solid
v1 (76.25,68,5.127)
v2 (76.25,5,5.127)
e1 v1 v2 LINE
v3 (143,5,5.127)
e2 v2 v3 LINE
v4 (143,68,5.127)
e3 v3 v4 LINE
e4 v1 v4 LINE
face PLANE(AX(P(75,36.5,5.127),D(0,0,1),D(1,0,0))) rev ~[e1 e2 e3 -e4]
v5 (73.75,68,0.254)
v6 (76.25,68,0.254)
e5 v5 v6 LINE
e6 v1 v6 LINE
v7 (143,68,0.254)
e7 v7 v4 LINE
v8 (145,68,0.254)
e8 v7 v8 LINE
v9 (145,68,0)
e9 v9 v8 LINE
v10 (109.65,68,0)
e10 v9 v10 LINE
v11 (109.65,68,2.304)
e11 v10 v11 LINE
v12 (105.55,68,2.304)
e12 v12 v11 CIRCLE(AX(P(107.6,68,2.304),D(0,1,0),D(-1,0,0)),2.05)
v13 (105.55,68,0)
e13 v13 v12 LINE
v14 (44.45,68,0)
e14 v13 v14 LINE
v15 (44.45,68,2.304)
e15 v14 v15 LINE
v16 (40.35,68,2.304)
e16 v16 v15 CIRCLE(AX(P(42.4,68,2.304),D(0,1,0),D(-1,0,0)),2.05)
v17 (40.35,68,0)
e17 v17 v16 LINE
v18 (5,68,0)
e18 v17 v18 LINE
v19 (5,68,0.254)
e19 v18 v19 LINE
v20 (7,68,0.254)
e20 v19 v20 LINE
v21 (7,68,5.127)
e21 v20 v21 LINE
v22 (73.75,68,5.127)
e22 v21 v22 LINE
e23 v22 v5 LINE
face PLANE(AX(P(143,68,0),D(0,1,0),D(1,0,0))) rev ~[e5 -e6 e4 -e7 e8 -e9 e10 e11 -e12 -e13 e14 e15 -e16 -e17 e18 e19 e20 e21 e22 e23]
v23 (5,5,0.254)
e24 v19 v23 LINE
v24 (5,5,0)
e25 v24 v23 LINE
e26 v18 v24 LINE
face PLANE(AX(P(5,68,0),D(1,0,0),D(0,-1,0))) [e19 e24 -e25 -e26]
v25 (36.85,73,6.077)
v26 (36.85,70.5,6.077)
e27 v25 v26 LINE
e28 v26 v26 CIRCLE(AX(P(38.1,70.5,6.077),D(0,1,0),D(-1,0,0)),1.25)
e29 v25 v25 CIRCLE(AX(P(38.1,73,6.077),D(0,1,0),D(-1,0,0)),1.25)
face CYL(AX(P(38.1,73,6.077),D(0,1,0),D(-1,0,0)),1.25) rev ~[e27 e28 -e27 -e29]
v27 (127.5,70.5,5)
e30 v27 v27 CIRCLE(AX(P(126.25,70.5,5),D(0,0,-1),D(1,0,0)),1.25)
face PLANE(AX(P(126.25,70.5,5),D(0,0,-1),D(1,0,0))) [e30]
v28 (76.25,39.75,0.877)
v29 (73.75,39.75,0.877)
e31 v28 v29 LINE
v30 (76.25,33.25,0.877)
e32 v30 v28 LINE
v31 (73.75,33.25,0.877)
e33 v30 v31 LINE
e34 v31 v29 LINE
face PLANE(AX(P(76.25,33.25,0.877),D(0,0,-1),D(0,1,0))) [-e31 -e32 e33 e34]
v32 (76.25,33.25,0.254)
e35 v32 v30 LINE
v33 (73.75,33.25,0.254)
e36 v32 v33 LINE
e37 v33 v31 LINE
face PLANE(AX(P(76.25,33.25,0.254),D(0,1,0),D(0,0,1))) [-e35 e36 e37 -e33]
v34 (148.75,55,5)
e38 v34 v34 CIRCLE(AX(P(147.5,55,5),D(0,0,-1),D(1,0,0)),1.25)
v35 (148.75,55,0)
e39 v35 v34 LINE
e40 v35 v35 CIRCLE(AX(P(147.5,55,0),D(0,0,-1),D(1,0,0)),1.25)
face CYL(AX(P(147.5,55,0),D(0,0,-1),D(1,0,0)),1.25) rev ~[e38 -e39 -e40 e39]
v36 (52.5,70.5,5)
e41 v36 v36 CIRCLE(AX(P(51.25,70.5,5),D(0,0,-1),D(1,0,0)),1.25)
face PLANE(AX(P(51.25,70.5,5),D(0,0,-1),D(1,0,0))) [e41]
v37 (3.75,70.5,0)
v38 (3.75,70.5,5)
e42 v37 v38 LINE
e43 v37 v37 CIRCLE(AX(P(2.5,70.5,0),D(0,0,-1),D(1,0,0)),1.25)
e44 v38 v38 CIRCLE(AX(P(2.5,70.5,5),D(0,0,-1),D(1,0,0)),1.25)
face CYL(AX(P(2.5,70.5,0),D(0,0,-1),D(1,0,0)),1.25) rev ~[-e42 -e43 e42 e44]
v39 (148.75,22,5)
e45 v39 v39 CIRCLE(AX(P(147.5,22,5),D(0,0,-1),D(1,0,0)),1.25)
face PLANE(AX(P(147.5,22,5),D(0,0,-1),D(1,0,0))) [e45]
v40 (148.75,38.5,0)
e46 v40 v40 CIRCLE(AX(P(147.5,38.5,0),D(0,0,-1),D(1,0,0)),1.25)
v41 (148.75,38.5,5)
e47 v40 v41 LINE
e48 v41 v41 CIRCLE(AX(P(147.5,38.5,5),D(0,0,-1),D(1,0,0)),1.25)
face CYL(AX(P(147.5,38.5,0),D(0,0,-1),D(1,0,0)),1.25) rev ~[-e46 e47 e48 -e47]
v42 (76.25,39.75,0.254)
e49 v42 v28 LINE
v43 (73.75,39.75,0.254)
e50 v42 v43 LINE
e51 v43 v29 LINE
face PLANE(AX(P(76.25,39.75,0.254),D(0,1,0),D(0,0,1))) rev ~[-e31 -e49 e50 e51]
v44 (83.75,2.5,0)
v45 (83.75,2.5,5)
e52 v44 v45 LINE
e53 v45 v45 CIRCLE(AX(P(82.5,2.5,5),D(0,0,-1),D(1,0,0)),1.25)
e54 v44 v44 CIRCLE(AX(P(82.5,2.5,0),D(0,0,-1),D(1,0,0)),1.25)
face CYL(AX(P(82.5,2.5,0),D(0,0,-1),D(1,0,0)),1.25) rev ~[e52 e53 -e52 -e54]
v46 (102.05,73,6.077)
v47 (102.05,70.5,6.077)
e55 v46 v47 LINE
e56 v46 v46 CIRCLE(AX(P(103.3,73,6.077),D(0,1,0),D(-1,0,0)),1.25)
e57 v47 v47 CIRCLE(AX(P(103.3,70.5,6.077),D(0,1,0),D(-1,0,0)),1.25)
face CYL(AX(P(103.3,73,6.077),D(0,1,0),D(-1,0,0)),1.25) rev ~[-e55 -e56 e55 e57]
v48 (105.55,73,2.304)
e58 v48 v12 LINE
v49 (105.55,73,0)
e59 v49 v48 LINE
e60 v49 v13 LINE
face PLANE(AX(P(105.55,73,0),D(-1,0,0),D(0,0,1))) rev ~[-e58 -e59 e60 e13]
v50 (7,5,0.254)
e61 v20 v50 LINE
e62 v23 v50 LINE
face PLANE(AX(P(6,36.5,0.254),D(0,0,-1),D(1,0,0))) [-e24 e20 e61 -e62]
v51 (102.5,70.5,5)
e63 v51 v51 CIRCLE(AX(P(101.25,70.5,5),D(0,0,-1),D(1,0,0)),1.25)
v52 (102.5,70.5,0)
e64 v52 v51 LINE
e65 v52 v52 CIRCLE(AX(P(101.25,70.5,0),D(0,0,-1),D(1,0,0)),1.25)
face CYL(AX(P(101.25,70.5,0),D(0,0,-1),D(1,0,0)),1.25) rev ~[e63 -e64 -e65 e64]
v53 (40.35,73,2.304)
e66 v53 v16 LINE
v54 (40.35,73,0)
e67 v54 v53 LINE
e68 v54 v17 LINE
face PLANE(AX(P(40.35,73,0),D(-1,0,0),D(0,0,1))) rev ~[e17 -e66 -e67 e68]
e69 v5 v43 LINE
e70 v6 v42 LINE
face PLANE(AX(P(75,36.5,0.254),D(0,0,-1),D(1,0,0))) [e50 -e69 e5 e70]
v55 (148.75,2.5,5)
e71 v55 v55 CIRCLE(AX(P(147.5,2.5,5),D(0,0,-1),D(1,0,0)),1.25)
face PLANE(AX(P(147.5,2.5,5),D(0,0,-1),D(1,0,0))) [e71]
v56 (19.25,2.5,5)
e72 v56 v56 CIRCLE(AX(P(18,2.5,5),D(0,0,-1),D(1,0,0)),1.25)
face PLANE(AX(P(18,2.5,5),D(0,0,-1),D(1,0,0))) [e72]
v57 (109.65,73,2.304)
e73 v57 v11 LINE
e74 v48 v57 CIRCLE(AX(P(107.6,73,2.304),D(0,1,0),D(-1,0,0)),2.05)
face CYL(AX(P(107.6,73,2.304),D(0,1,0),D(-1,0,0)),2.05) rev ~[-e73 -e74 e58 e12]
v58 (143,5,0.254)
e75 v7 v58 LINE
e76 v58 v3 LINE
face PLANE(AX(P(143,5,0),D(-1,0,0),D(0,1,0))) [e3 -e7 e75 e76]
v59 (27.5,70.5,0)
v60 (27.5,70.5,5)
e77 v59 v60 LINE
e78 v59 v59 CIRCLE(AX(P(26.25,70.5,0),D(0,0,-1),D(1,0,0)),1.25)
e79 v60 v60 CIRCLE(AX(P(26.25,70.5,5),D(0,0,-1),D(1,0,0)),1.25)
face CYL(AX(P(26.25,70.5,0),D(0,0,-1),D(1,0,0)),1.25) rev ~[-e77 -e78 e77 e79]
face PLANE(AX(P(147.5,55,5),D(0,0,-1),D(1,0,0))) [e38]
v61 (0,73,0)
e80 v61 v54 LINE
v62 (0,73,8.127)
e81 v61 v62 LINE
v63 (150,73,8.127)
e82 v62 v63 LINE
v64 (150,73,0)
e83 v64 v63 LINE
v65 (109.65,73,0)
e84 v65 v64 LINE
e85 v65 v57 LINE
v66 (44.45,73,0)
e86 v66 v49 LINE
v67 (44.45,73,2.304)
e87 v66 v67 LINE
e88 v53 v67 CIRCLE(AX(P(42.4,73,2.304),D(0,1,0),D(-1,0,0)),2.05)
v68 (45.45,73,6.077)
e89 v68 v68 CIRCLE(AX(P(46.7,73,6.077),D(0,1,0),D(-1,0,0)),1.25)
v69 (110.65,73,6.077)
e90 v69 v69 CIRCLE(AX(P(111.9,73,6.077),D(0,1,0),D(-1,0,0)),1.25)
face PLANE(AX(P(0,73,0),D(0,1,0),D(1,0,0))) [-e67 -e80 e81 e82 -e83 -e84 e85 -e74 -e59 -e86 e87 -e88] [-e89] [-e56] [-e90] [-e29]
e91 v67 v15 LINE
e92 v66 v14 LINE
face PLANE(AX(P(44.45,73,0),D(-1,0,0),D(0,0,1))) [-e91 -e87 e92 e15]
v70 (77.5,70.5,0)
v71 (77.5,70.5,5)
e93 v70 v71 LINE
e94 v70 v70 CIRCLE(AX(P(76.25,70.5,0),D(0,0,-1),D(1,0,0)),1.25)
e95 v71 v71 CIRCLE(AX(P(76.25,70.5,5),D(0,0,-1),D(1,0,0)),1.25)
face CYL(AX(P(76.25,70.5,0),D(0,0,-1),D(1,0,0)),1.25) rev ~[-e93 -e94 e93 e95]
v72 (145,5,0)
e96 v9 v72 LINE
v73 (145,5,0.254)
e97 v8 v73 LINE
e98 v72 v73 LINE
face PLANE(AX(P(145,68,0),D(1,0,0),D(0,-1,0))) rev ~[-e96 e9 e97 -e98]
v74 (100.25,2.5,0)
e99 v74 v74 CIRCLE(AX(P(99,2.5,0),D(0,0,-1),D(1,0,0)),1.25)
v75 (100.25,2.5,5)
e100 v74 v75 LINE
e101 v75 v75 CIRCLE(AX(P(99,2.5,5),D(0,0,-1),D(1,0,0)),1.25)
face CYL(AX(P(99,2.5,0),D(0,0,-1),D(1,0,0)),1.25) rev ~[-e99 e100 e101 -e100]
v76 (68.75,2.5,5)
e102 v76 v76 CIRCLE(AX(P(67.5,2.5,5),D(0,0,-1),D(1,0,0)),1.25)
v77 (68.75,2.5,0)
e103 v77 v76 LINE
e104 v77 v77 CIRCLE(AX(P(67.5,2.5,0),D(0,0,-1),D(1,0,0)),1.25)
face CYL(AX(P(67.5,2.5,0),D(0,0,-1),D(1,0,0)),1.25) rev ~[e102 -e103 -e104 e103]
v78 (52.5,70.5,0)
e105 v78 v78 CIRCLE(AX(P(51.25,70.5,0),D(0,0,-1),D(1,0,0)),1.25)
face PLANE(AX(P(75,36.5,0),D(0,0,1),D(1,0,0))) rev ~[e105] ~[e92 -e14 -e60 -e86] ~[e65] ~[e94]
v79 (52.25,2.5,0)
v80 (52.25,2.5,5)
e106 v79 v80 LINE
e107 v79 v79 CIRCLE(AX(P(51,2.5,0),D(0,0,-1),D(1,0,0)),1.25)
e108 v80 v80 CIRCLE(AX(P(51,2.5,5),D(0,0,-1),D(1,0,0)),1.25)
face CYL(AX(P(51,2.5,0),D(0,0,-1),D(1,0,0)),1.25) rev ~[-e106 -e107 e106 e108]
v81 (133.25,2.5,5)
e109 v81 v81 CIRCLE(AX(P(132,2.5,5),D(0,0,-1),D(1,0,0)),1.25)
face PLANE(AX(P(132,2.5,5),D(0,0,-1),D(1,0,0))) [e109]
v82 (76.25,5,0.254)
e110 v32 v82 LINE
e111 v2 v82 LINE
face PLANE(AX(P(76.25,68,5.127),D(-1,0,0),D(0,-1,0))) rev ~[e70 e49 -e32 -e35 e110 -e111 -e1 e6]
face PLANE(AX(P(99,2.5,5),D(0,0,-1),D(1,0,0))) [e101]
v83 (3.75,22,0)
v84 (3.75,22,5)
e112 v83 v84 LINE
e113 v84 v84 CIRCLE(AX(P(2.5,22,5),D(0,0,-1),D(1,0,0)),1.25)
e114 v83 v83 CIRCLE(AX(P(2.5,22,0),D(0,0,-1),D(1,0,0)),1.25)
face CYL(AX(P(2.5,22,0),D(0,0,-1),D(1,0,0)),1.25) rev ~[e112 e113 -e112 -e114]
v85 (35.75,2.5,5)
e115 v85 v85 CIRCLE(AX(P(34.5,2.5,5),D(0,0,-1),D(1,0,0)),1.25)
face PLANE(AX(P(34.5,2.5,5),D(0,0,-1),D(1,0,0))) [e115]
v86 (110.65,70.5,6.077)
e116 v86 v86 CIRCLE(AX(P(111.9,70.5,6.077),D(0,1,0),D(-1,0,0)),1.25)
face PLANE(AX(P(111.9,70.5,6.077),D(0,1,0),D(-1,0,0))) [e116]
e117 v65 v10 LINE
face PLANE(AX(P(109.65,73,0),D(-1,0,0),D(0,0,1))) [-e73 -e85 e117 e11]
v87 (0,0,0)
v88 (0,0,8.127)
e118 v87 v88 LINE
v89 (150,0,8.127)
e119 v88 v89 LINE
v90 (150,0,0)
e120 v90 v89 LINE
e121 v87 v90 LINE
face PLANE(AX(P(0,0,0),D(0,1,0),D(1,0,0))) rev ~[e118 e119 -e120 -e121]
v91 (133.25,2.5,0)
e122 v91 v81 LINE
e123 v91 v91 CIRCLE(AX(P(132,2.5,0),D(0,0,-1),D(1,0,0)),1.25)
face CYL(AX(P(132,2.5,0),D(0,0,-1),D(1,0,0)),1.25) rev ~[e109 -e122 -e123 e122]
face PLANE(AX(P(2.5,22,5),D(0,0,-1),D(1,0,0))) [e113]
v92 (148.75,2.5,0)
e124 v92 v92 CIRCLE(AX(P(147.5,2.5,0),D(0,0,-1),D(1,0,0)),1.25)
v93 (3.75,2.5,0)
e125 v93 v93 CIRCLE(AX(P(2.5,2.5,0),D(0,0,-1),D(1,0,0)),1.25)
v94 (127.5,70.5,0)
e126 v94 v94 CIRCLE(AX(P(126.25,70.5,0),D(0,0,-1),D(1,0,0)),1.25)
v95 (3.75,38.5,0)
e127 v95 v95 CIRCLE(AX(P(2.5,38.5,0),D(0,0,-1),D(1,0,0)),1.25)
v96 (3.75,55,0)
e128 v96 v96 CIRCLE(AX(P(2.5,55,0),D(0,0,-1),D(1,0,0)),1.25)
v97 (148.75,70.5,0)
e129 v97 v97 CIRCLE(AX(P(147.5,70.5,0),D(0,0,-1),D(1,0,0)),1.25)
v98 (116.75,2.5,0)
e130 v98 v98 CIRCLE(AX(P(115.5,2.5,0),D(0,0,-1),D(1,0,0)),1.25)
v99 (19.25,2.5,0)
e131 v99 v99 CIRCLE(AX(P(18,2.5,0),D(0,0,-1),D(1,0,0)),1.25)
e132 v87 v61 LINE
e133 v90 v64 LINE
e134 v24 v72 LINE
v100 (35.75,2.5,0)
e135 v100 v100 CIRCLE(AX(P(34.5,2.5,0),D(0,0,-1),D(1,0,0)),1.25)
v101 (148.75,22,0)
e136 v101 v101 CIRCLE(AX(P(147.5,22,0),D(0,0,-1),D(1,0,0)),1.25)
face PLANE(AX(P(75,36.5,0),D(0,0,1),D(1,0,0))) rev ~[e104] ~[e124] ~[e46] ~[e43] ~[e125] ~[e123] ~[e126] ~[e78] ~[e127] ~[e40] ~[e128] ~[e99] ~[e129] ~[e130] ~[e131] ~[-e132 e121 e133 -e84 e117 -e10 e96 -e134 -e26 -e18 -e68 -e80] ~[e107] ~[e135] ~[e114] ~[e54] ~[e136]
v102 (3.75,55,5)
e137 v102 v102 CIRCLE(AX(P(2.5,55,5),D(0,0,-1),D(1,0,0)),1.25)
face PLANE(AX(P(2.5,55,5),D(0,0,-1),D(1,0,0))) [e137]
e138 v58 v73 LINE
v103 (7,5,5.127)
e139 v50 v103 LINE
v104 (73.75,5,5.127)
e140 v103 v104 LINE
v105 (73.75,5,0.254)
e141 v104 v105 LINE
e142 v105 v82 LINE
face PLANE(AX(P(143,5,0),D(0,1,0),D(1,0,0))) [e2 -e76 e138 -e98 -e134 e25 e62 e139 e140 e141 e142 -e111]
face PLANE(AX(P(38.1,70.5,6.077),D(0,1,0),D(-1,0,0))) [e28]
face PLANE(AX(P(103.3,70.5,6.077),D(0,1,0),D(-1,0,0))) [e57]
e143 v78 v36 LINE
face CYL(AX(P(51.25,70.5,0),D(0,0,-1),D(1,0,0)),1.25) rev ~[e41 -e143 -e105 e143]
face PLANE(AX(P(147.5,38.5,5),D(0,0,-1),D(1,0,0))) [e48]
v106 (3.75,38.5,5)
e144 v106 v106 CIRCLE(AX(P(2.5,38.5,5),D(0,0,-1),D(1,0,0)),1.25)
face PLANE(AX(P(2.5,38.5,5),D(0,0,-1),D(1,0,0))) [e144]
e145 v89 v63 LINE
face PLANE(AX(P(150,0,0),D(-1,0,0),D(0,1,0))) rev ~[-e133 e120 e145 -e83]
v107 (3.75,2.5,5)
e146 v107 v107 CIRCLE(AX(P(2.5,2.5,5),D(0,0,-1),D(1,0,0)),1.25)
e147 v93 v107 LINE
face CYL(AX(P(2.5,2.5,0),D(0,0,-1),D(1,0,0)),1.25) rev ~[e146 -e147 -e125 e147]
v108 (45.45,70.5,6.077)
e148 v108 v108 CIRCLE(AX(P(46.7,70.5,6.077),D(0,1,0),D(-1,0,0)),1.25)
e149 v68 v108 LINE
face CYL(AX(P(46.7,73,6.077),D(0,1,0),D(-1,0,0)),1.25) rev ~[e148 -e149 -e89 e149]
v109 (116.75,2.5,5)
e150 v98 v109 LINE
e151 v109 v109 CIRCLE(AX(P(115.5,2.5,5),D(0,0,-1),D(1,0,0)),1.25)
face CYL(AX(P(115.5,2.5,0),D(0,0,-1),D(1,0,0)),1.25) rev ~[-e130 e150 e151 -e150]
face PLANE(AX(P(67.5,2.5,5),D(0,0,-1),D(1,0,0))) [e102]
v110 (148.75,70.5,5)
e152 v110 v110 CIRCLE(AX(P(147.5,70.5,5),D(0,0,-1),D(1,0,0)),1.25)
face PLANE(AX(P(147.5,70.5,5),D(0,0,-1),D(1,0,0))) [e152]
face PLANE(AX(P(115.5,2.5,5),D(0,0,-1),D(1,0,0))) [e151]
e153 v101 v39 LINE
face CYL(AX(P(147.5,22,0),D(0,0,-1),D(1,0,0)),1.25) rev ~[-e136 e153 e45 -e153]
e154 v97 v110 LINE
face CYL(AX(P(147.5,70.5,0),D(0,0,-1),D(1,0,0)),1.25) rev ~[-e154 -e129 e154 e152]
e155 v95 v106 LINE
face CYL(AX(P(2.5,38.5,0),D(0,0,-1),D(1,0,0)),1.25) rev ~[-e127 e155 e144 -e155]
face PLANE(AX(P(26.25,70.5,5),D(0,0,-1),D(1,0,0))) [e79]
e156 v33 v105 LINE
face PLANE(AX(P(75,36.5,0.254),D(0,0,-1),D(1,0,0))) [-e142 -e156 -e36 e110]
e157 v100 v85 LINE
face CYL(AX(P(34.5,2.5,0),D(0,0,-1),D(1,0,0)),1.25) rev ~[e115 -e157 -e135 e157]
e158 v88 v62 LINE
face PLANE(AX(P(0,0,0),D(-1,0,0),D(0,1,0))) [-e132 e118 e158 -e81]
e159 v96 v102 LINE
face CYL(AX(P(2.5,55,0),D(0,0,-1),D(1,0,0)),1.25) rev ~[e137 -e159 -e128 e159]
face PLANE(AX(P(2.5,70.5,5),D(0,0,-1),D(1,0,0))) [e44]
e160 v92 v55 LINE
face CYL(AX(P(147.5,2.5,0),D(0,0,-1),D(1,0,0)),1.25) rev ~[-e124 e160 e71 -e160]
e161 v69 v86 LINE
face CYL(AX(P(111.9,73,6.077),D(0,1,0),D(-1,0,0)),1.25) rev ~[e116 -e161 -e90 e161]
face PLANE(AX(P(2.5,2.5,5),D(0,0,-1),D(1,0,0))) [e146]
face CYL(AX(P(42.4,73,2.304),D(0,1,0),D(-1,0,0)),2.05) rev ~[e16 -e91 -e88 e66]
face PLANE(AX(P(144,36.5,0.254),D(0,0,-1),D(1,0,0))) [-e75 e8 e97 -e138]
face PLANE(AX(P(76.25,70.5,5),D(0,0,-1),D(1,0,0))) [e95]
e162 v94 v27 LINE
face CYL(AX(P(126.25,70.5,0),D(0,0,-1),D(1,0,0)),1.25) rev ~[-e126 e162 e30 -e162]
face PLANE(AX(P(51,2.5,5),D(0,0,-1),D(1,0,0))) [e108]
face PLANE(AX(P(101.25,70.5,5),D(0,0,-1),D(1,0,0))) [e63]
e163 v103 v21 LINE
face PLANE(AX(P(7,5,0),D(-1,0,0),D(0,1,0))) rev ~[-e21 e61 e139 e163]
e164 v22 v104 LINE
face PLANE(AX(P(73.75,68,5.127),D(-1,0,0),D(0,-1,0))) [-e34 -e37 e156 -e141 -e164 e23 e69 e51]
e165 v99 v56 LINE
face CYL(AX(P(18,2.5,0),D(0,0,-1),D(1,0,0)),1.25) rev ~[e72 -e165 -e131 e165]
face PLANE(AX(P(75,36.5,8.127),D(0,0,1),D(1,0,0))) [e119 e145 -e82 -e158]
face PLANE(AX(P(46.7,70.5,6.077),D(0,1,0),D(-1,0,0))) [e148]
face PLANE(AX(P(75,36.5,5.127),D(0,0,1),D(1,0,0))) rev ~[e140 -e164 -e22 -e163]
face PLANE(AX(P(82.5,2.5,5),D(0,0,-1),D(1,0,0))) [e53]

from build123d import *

# Parameters (mm, degrees)
F0_W      = 150
F0_H      = 73
F1_DEPTH  = 8.127
F3_R      = 1.25
F4_DEPTH  = 5
F5_R      = 1.25
F6_DEPTH  = 5
F7_R      = 1.25
F8_DEPTH  = 5
F9_R      = 1.25
F10_DEPTH = 5
F11_R     = 1.25
F12_DEPTH = 5
F13_R     = 1.25
F14_DEPTH = 5
F15_R     = 1.25
F16_DEPTH = 5
F17_R     = 1.25
F18_DEPTH = 5
F19_R     = 1.25
F20_DEPTH = 5
F21_R     = 1.25
F22_DEPTH = 5
F23_R     = 1.25
F24_DEPTH = 5
F25_R     = 1.25
F26_DEPTH = 5
F27_R     = 1.25
F28_DEPTH = 5
F29_R     = 1.25
F30_DEPTH = 5
F31_R     = 1.25
F32_DEPTH = 5
F33_R     = 1.25
F34_DEPTH = 5
F35_R     = 1.25
F36_DEPTH = 5
F37_R     = 1.25
F38_DEPTH = 5
F39_R     = 1.25
F40_DEPTH = 5
F41_R     = 1.25
F42_DEPTH = 5
F43_R     = 1.25
F44_DEPTH = 5
F45_R     = 1.25
F46_DEPTH = 5
F47_R     = 1.25
F48_DEPTH = 5
F2_W      = 136
F2_H      = 63
F49_DEPTH = 5.127
F50_W     = 2.5
F50_H     = 63
F51_DEPTH = 4.873
F52_W     = 6.5
F52_H     = 0.623
F53_DEPTH = 2.5
F54_W     = 2
F54_H     = 63
F55_DEPTH = 0.254
F56_W     = 2
F56_H     = 63
F57_DEPTH = 0.254
F58_R     = 2.05
F59_DEPTH = 5
F60_R     = 2.05
F61_DEPTH = 5
F62_W     = 4.1
F62_H     = 2.304
F63_DEPTH = 5
F64_W     = 4.1
F64_H     = 2.304
F65_DEPTH = 5
F66_R     = 1.25
F67_DEPTH = 2.5


with BuildPart() as f1:
    # F0 (on Top) → F1 (new body)
    with BuildSketch(Plane.XY):
        with Locations((75, 36.5)):
            Rectangle(F0_W, F0_H)
    extrude(amount=F1_DEPTH)

    # F3 (on face) → F4 (cut)
    with BuildSketch(Plane(origin=(0, 0, 0), x_dir=(1, 0, 0), z_dir=(0, 0, -1))):
        with Locations((2.5, -2.5)):
            Circle(F3_R)
    extrude(amount=-F4_DEPTH, mode=Mode.SUBTRACT)

    # F5 (on face) → F6 (cut)
    with BuildSketch(Plane(origin=(0, 0, 0), x_dir=(1, 0, 0), z_dir=(0, 0, -1))):
        with Locations((2.5, -22)):
            Circle(F5_R)
    extrude(amount=-F6_DEPTH, mode=Mode.SUBTRACT)

    # F7 (on face) → F8 (cut)
    with BuildSketch(Plane(origin=(0, 0, 0), x_dir=(1, 0, 0), z_dir=(0, 0, -1))):
        with Locations((147.5, -2.5)):
            Circle(F7_R)
    extrude(amount=-F8_DEPTH, mode=Mode.SUBTRACT)

    # F9 (on face) → F10 (cut)
    with BuildSketch(Plane(origin=(0, 0, 0), x_dir=(1, 0, 0), z_dir=(0, 0, -1))):
        with Locations((147.5, -22)):
            Circle(F9_R)
    extrude(amount=-F10_DEPTH, mode=Mode.SUBTRACT)

    # F11 (on face) → F12 (cut)
    with BuildSketch(Plane(origin=(0, 0, 0), x_dir=(1, 0, 0), z_dir=(0, 0, -1))):
        with Locations((2.5, -38.5)):
            Circle(F11_R)
    extrude(amount=-F12_DEPTH, mode=Mode.SUBTRACT)

    # F13 (on face) → F14 (cut)
    with BuildSketch(Plane(origin=(0, 0, 0), x_dir=(1, 0, 0), z_dir=(0, 0, -1))):
        with Locations((147.5, -38.5)):
            Circle(F13_R)
    extrude(amount=-F14_DEPTH, mode=Mode.SUBTRACT)

    # F15 (on face) → F16 (cut)
    with BuildSketch(Plane(origin=(0, 0, 0), x_dir=(1, 0, 0), z_dir=(0, 0, -1))):
        with Locations((2.5, -55)):
            Circle(F15_R)
    extrude(amount=-F16_DEPTH, mode=Mode.SUBTRACT)

    # F17 (on face) → F18 (cut)
    with BuildSketch(Plane(origin=(0, 0, 0), x_dir=(1, 0, 0), z_dir=(0, 0, -1))):
        with Locations((147.5, -55)):
            Circle(F17_R)
    extrude(amount=-F18_DEPTH, mode=Mode.SUBTRACT)

    # F19 (on face) → F20 (cut)
    with BuildSketch(Plane(origin=(0, 0, 0), x_dir=(1, 0, 0), z_dir=(0, 0, -1))):
        with Locations((2.5, -70.5)):
            Circle(F19_R)
    extrude(amount=-F20_DEPTH, mode=Mode.SUBTRACT)

    # F21 (on face) → F22 (cut)
    with BuildSketch(Plane(origin=(0, 0, 0), x_dir=(1, 0, 0), z_dir=(0, 0, -1))):
        with Locations((147.5, -70.5)):
            Circle(F21_R)
    extrude(amount=-F22_DEPTH, mode=Mode.SUBTRACT)

    # F23 (on face) → F24 (cut)
    with BuildSketch(Plane(origin=(0, 0, 0), x_dir=(1, 0, 0), z_dir=(0, 0, -1))):
        with Locations((18, -2.5)):
            Circle(F23_R)
    extrude(amount=-F24_DEPTH, mode=Mode.SUBTRACT)

    # F25 (on face) → F26 (cut)
    with BuildSketch(Plane(origin=(0, 0, 0), x_dir=(1, 0, 0), z_dir=(0, 0, -1))):
        with Locations((26.25, -70.5)):
            Circle(F25_R)
    extrude(amount=-F26_DEPTH, mode=Mode.SUBTRACT)

    # F27 (on face) → F28 (cut)
    with BuildSketch(Plane(origin=(0, 0, 0), x_dir=(1, 0, 0), z_dir=(0, 0, -1))):
        with Locations((34.5, -2.5)):
            Circle(F27_R)
    extrude(amount=-F28_DEPTH, mode=Mode.SUBTRACT)

    # F29 (on face) → F30 (cut)
    with BuildSketch(Plane(origin=(0, 0, 0), x_dir=(1, 0, 0), z_dir=(0, 0, -1))):
        with Locations((51, -2.5)):
            Circle(F29_R)
    extrude(amount=-F30_DEPTH, mode=Mode.SUBTRACT)

    # F31 (on face) → F32 (cut)
    with BuildSketch(Plane(origin=(0, 0, 0), x_dir=(1, 0, 0), z_dir=(0, 0, -1))):
        with Locations((51.25, -70.5)):
            Circle(F31_R)
    extrude(amount=-F32_DEPTH, mode=Mode.SUBTRACT)

    # F33 (on face) → F34 (cut)
    with BuildSketch(Plane(origin=(0, 0, 0), x_dir=(1, 0, 0), z_dir=(0, 0, -1))):
        with Locations((67.5, -2.5)):
            Circle(F33_R)
    extrude(amount=-F34_DEPTH, mode=Mode.SUBTRACT)

    # F35 (on face) → F36 (cut)
    with BuildSketch(Plane(origin=(0, 0, 0), x_dir=(1, 0, 0), z_dir=(0, 0, -1))):
        with Locations((76.25, -70.5)):
            Circle(F35_R)
    extrude(amount=-F36_DEPTH, mode=Mode.SUBTRACT)

    # F37 (on face) → F38 (cut)
    with BuildSketch(Plane(origin=(0, 0, 0), x_dir=(1, 0, 0), z_dir=(0, 0, -1))):
        with Locations((82.5, -2.5)):
            Circle(F37_R)
    extrude(amount=-F38_DEPTH, mode=Mode.SUBTRACT)

    # F39 (on face) → F40 (cut)
    with BuildSketch(Plane(origin=(0, 0, 0), x_dir=(1, 0, 0), z_dir=(0, 0, -1))):
        with Locations((99, -2.5)):
            Circle(F39_R)
    extrude(amount=-F40_DEPTH, mode=Mode.SUBTRACT)

    # F41 (on face) → F42 (cut)
    with BuildSketch(Plane(origin=(0, 0, 0), x_dir=(1, 0, 0), z_dir=(0, 0, -1))):
        with Locations((101.25, -70.5)):
            Circle(F41_R)
    extrude(amount=-F42_DEPTH, mode=Mode.SUBTRACT)

    # F43 (on face) → F44 (cut)
    with BuildSketch(Plane(origin=(0, 0, 0), x_dir=(1, 0, 0), z_dir=(0, 0, -1))):
        with Locations((115.5, -2.5)):
            Circle(F43_R)
    extrude(amount=-F44_DEPTH, mode=Mode.SUBTRACT)

    # F45 (on face) → F46 (cut)
    with BuildSketch(Plane(origin=(0, 0, 0), x_dir=(1, 0, 0), z_dir=(0, 0, -1))):
        with Locations((126.25, -70.5)):
            Circle(F45_R)
    extrude(amount=-F46_DEPTH, mode=Mode.SUBTRACT)

    # F47 (on face) → F48 (cut)
    with BuildSketch(Plane(origin=(0, 0, 0), x_dir=(1, 0, 0), z_dir=(0, 0, -1))):
        with Locations((132, -2.5)):
            Circle(F47_R)
    extrude(amount=-F48_DEPTH, mode=Mode.SUBTRACT)

    # F2 (on Top) → F49 (cut)
    with BuildSketch(Plane.XY):
        with Locations((75, 36.5)):
            Rectangle(F2_W, F2_H)
    extrude(amount=F49_DEPTH, mode=Mode.SUBTRACT)

    # F50 (on face) → F51 (join)
    with BuildSketch(Plane(origin=(0, 0, 5.127), x_dir=(1, 0, 0), z_dir=(0, 0, -1))):
        with Locations((75, -36.5)):
            Rectangle(F50_W, F50_H)
    extrude(amount=F51_DEPTH)

    # F52 (on face) → F53 (cut)
    with BuildSketch(Plane.YZ.offset(76.25)):
        with Locations((36.5, 0.5655)):
            Rectangle(F52_W, F52_H)
    extrude(amount=-F53_DEPTH, mode=Mode.SUBTRACT)

    # F54 (on face) → F55 (cut)
    with BuildSketch(Plane(origin=(0, 0, 0), x_dir=(1, 0, 0), z_dir=(0, 0, -1))):
        with Locations((6, -36.5)):
            Rectangle(F54_W, F54_H)
    extrude(amount=-F55_DEPTH, mode=Mode.SUBTRACT)

    # F56 (on face) → F57 (cut)
    with BuildSketch(Plane(origin=(0, 0, 0), x_dir=(1, 0, 0), z_dir=(0, 0, -1))):
        with Locations((144, -36.5)):
            Rectangle(F56_W, F56_H)
    extrude(amount=-F57_DEPTH, mode=Mode.SUBTRACT)

    # F58 (on face) → F59 (cut)
    with BuildSketch(Plane(origin=(0, 73, 0), x_dir=(-1, 0, 0), z_dir=(0, 1, 0))):
        with Locations((-42.4, 2.304)):
            Circle(F58_R)
    extrude(amount=-F59_DEPTH, mode=Mode.SUBTRACT)

    # F60 (on face) → F61 (cut)
    with BuildSketch(Plane(origin=(0, 73, 0), x_dir=(-1, 0, 0), z_dir=(0, 1, 0))):
        with Locations((-107.6, 2.304)):
            Circle(F60_R)
    extrude(amount=-F61_DEPTH, mode=Mode.SUBTRACT)

    # F62 (on face) → F63 (cut)
    with BuildSketch(Plane(origin=(0, 73, 0), x_dir=(-1, 0, 0), z_dir=(0, 1, 0))):
        with Locations((-107.6, 1.152)):
            Rectangle(F62_W, F62_H)
    extrude(amount=-F63_DEPTH, mode=Mode.SUBTRACT)

    # F64 (on face) → F65 (cut)
    with BuildSketch(Plane(origin=(0, 73, 0), x_dir=(-1, 0, 0), z_dir=(0, 1, 0))):
        with Locations((-42.4, 1.152)):
            Rectangle(F64_W, F64_H)
    extrude(amount=-F65_DEPTH, mode=Mode.SUBTRACT)

    # F66 (on face) → F67 (cut)
    with BuildSketch(Plane(origin=(0, 73, 0), x_dir=(-1, 0, 0), z_dir=(0, 1, 0))):
        with Locations((-38.1, 6.077)):
            Circle(F66_R)
        with Locations((-46.7, 6.077)):
            Circle(F66_R)
        with Locations((-111.9, 6.077)):
            Circle(F66_R)
        with Locations((-103.3, 6.077)):
            Circle(F66_R)
    extrude(amount=-F67_DEPTH, mode=Mode.SUBTRACT)


solid = f1.part
